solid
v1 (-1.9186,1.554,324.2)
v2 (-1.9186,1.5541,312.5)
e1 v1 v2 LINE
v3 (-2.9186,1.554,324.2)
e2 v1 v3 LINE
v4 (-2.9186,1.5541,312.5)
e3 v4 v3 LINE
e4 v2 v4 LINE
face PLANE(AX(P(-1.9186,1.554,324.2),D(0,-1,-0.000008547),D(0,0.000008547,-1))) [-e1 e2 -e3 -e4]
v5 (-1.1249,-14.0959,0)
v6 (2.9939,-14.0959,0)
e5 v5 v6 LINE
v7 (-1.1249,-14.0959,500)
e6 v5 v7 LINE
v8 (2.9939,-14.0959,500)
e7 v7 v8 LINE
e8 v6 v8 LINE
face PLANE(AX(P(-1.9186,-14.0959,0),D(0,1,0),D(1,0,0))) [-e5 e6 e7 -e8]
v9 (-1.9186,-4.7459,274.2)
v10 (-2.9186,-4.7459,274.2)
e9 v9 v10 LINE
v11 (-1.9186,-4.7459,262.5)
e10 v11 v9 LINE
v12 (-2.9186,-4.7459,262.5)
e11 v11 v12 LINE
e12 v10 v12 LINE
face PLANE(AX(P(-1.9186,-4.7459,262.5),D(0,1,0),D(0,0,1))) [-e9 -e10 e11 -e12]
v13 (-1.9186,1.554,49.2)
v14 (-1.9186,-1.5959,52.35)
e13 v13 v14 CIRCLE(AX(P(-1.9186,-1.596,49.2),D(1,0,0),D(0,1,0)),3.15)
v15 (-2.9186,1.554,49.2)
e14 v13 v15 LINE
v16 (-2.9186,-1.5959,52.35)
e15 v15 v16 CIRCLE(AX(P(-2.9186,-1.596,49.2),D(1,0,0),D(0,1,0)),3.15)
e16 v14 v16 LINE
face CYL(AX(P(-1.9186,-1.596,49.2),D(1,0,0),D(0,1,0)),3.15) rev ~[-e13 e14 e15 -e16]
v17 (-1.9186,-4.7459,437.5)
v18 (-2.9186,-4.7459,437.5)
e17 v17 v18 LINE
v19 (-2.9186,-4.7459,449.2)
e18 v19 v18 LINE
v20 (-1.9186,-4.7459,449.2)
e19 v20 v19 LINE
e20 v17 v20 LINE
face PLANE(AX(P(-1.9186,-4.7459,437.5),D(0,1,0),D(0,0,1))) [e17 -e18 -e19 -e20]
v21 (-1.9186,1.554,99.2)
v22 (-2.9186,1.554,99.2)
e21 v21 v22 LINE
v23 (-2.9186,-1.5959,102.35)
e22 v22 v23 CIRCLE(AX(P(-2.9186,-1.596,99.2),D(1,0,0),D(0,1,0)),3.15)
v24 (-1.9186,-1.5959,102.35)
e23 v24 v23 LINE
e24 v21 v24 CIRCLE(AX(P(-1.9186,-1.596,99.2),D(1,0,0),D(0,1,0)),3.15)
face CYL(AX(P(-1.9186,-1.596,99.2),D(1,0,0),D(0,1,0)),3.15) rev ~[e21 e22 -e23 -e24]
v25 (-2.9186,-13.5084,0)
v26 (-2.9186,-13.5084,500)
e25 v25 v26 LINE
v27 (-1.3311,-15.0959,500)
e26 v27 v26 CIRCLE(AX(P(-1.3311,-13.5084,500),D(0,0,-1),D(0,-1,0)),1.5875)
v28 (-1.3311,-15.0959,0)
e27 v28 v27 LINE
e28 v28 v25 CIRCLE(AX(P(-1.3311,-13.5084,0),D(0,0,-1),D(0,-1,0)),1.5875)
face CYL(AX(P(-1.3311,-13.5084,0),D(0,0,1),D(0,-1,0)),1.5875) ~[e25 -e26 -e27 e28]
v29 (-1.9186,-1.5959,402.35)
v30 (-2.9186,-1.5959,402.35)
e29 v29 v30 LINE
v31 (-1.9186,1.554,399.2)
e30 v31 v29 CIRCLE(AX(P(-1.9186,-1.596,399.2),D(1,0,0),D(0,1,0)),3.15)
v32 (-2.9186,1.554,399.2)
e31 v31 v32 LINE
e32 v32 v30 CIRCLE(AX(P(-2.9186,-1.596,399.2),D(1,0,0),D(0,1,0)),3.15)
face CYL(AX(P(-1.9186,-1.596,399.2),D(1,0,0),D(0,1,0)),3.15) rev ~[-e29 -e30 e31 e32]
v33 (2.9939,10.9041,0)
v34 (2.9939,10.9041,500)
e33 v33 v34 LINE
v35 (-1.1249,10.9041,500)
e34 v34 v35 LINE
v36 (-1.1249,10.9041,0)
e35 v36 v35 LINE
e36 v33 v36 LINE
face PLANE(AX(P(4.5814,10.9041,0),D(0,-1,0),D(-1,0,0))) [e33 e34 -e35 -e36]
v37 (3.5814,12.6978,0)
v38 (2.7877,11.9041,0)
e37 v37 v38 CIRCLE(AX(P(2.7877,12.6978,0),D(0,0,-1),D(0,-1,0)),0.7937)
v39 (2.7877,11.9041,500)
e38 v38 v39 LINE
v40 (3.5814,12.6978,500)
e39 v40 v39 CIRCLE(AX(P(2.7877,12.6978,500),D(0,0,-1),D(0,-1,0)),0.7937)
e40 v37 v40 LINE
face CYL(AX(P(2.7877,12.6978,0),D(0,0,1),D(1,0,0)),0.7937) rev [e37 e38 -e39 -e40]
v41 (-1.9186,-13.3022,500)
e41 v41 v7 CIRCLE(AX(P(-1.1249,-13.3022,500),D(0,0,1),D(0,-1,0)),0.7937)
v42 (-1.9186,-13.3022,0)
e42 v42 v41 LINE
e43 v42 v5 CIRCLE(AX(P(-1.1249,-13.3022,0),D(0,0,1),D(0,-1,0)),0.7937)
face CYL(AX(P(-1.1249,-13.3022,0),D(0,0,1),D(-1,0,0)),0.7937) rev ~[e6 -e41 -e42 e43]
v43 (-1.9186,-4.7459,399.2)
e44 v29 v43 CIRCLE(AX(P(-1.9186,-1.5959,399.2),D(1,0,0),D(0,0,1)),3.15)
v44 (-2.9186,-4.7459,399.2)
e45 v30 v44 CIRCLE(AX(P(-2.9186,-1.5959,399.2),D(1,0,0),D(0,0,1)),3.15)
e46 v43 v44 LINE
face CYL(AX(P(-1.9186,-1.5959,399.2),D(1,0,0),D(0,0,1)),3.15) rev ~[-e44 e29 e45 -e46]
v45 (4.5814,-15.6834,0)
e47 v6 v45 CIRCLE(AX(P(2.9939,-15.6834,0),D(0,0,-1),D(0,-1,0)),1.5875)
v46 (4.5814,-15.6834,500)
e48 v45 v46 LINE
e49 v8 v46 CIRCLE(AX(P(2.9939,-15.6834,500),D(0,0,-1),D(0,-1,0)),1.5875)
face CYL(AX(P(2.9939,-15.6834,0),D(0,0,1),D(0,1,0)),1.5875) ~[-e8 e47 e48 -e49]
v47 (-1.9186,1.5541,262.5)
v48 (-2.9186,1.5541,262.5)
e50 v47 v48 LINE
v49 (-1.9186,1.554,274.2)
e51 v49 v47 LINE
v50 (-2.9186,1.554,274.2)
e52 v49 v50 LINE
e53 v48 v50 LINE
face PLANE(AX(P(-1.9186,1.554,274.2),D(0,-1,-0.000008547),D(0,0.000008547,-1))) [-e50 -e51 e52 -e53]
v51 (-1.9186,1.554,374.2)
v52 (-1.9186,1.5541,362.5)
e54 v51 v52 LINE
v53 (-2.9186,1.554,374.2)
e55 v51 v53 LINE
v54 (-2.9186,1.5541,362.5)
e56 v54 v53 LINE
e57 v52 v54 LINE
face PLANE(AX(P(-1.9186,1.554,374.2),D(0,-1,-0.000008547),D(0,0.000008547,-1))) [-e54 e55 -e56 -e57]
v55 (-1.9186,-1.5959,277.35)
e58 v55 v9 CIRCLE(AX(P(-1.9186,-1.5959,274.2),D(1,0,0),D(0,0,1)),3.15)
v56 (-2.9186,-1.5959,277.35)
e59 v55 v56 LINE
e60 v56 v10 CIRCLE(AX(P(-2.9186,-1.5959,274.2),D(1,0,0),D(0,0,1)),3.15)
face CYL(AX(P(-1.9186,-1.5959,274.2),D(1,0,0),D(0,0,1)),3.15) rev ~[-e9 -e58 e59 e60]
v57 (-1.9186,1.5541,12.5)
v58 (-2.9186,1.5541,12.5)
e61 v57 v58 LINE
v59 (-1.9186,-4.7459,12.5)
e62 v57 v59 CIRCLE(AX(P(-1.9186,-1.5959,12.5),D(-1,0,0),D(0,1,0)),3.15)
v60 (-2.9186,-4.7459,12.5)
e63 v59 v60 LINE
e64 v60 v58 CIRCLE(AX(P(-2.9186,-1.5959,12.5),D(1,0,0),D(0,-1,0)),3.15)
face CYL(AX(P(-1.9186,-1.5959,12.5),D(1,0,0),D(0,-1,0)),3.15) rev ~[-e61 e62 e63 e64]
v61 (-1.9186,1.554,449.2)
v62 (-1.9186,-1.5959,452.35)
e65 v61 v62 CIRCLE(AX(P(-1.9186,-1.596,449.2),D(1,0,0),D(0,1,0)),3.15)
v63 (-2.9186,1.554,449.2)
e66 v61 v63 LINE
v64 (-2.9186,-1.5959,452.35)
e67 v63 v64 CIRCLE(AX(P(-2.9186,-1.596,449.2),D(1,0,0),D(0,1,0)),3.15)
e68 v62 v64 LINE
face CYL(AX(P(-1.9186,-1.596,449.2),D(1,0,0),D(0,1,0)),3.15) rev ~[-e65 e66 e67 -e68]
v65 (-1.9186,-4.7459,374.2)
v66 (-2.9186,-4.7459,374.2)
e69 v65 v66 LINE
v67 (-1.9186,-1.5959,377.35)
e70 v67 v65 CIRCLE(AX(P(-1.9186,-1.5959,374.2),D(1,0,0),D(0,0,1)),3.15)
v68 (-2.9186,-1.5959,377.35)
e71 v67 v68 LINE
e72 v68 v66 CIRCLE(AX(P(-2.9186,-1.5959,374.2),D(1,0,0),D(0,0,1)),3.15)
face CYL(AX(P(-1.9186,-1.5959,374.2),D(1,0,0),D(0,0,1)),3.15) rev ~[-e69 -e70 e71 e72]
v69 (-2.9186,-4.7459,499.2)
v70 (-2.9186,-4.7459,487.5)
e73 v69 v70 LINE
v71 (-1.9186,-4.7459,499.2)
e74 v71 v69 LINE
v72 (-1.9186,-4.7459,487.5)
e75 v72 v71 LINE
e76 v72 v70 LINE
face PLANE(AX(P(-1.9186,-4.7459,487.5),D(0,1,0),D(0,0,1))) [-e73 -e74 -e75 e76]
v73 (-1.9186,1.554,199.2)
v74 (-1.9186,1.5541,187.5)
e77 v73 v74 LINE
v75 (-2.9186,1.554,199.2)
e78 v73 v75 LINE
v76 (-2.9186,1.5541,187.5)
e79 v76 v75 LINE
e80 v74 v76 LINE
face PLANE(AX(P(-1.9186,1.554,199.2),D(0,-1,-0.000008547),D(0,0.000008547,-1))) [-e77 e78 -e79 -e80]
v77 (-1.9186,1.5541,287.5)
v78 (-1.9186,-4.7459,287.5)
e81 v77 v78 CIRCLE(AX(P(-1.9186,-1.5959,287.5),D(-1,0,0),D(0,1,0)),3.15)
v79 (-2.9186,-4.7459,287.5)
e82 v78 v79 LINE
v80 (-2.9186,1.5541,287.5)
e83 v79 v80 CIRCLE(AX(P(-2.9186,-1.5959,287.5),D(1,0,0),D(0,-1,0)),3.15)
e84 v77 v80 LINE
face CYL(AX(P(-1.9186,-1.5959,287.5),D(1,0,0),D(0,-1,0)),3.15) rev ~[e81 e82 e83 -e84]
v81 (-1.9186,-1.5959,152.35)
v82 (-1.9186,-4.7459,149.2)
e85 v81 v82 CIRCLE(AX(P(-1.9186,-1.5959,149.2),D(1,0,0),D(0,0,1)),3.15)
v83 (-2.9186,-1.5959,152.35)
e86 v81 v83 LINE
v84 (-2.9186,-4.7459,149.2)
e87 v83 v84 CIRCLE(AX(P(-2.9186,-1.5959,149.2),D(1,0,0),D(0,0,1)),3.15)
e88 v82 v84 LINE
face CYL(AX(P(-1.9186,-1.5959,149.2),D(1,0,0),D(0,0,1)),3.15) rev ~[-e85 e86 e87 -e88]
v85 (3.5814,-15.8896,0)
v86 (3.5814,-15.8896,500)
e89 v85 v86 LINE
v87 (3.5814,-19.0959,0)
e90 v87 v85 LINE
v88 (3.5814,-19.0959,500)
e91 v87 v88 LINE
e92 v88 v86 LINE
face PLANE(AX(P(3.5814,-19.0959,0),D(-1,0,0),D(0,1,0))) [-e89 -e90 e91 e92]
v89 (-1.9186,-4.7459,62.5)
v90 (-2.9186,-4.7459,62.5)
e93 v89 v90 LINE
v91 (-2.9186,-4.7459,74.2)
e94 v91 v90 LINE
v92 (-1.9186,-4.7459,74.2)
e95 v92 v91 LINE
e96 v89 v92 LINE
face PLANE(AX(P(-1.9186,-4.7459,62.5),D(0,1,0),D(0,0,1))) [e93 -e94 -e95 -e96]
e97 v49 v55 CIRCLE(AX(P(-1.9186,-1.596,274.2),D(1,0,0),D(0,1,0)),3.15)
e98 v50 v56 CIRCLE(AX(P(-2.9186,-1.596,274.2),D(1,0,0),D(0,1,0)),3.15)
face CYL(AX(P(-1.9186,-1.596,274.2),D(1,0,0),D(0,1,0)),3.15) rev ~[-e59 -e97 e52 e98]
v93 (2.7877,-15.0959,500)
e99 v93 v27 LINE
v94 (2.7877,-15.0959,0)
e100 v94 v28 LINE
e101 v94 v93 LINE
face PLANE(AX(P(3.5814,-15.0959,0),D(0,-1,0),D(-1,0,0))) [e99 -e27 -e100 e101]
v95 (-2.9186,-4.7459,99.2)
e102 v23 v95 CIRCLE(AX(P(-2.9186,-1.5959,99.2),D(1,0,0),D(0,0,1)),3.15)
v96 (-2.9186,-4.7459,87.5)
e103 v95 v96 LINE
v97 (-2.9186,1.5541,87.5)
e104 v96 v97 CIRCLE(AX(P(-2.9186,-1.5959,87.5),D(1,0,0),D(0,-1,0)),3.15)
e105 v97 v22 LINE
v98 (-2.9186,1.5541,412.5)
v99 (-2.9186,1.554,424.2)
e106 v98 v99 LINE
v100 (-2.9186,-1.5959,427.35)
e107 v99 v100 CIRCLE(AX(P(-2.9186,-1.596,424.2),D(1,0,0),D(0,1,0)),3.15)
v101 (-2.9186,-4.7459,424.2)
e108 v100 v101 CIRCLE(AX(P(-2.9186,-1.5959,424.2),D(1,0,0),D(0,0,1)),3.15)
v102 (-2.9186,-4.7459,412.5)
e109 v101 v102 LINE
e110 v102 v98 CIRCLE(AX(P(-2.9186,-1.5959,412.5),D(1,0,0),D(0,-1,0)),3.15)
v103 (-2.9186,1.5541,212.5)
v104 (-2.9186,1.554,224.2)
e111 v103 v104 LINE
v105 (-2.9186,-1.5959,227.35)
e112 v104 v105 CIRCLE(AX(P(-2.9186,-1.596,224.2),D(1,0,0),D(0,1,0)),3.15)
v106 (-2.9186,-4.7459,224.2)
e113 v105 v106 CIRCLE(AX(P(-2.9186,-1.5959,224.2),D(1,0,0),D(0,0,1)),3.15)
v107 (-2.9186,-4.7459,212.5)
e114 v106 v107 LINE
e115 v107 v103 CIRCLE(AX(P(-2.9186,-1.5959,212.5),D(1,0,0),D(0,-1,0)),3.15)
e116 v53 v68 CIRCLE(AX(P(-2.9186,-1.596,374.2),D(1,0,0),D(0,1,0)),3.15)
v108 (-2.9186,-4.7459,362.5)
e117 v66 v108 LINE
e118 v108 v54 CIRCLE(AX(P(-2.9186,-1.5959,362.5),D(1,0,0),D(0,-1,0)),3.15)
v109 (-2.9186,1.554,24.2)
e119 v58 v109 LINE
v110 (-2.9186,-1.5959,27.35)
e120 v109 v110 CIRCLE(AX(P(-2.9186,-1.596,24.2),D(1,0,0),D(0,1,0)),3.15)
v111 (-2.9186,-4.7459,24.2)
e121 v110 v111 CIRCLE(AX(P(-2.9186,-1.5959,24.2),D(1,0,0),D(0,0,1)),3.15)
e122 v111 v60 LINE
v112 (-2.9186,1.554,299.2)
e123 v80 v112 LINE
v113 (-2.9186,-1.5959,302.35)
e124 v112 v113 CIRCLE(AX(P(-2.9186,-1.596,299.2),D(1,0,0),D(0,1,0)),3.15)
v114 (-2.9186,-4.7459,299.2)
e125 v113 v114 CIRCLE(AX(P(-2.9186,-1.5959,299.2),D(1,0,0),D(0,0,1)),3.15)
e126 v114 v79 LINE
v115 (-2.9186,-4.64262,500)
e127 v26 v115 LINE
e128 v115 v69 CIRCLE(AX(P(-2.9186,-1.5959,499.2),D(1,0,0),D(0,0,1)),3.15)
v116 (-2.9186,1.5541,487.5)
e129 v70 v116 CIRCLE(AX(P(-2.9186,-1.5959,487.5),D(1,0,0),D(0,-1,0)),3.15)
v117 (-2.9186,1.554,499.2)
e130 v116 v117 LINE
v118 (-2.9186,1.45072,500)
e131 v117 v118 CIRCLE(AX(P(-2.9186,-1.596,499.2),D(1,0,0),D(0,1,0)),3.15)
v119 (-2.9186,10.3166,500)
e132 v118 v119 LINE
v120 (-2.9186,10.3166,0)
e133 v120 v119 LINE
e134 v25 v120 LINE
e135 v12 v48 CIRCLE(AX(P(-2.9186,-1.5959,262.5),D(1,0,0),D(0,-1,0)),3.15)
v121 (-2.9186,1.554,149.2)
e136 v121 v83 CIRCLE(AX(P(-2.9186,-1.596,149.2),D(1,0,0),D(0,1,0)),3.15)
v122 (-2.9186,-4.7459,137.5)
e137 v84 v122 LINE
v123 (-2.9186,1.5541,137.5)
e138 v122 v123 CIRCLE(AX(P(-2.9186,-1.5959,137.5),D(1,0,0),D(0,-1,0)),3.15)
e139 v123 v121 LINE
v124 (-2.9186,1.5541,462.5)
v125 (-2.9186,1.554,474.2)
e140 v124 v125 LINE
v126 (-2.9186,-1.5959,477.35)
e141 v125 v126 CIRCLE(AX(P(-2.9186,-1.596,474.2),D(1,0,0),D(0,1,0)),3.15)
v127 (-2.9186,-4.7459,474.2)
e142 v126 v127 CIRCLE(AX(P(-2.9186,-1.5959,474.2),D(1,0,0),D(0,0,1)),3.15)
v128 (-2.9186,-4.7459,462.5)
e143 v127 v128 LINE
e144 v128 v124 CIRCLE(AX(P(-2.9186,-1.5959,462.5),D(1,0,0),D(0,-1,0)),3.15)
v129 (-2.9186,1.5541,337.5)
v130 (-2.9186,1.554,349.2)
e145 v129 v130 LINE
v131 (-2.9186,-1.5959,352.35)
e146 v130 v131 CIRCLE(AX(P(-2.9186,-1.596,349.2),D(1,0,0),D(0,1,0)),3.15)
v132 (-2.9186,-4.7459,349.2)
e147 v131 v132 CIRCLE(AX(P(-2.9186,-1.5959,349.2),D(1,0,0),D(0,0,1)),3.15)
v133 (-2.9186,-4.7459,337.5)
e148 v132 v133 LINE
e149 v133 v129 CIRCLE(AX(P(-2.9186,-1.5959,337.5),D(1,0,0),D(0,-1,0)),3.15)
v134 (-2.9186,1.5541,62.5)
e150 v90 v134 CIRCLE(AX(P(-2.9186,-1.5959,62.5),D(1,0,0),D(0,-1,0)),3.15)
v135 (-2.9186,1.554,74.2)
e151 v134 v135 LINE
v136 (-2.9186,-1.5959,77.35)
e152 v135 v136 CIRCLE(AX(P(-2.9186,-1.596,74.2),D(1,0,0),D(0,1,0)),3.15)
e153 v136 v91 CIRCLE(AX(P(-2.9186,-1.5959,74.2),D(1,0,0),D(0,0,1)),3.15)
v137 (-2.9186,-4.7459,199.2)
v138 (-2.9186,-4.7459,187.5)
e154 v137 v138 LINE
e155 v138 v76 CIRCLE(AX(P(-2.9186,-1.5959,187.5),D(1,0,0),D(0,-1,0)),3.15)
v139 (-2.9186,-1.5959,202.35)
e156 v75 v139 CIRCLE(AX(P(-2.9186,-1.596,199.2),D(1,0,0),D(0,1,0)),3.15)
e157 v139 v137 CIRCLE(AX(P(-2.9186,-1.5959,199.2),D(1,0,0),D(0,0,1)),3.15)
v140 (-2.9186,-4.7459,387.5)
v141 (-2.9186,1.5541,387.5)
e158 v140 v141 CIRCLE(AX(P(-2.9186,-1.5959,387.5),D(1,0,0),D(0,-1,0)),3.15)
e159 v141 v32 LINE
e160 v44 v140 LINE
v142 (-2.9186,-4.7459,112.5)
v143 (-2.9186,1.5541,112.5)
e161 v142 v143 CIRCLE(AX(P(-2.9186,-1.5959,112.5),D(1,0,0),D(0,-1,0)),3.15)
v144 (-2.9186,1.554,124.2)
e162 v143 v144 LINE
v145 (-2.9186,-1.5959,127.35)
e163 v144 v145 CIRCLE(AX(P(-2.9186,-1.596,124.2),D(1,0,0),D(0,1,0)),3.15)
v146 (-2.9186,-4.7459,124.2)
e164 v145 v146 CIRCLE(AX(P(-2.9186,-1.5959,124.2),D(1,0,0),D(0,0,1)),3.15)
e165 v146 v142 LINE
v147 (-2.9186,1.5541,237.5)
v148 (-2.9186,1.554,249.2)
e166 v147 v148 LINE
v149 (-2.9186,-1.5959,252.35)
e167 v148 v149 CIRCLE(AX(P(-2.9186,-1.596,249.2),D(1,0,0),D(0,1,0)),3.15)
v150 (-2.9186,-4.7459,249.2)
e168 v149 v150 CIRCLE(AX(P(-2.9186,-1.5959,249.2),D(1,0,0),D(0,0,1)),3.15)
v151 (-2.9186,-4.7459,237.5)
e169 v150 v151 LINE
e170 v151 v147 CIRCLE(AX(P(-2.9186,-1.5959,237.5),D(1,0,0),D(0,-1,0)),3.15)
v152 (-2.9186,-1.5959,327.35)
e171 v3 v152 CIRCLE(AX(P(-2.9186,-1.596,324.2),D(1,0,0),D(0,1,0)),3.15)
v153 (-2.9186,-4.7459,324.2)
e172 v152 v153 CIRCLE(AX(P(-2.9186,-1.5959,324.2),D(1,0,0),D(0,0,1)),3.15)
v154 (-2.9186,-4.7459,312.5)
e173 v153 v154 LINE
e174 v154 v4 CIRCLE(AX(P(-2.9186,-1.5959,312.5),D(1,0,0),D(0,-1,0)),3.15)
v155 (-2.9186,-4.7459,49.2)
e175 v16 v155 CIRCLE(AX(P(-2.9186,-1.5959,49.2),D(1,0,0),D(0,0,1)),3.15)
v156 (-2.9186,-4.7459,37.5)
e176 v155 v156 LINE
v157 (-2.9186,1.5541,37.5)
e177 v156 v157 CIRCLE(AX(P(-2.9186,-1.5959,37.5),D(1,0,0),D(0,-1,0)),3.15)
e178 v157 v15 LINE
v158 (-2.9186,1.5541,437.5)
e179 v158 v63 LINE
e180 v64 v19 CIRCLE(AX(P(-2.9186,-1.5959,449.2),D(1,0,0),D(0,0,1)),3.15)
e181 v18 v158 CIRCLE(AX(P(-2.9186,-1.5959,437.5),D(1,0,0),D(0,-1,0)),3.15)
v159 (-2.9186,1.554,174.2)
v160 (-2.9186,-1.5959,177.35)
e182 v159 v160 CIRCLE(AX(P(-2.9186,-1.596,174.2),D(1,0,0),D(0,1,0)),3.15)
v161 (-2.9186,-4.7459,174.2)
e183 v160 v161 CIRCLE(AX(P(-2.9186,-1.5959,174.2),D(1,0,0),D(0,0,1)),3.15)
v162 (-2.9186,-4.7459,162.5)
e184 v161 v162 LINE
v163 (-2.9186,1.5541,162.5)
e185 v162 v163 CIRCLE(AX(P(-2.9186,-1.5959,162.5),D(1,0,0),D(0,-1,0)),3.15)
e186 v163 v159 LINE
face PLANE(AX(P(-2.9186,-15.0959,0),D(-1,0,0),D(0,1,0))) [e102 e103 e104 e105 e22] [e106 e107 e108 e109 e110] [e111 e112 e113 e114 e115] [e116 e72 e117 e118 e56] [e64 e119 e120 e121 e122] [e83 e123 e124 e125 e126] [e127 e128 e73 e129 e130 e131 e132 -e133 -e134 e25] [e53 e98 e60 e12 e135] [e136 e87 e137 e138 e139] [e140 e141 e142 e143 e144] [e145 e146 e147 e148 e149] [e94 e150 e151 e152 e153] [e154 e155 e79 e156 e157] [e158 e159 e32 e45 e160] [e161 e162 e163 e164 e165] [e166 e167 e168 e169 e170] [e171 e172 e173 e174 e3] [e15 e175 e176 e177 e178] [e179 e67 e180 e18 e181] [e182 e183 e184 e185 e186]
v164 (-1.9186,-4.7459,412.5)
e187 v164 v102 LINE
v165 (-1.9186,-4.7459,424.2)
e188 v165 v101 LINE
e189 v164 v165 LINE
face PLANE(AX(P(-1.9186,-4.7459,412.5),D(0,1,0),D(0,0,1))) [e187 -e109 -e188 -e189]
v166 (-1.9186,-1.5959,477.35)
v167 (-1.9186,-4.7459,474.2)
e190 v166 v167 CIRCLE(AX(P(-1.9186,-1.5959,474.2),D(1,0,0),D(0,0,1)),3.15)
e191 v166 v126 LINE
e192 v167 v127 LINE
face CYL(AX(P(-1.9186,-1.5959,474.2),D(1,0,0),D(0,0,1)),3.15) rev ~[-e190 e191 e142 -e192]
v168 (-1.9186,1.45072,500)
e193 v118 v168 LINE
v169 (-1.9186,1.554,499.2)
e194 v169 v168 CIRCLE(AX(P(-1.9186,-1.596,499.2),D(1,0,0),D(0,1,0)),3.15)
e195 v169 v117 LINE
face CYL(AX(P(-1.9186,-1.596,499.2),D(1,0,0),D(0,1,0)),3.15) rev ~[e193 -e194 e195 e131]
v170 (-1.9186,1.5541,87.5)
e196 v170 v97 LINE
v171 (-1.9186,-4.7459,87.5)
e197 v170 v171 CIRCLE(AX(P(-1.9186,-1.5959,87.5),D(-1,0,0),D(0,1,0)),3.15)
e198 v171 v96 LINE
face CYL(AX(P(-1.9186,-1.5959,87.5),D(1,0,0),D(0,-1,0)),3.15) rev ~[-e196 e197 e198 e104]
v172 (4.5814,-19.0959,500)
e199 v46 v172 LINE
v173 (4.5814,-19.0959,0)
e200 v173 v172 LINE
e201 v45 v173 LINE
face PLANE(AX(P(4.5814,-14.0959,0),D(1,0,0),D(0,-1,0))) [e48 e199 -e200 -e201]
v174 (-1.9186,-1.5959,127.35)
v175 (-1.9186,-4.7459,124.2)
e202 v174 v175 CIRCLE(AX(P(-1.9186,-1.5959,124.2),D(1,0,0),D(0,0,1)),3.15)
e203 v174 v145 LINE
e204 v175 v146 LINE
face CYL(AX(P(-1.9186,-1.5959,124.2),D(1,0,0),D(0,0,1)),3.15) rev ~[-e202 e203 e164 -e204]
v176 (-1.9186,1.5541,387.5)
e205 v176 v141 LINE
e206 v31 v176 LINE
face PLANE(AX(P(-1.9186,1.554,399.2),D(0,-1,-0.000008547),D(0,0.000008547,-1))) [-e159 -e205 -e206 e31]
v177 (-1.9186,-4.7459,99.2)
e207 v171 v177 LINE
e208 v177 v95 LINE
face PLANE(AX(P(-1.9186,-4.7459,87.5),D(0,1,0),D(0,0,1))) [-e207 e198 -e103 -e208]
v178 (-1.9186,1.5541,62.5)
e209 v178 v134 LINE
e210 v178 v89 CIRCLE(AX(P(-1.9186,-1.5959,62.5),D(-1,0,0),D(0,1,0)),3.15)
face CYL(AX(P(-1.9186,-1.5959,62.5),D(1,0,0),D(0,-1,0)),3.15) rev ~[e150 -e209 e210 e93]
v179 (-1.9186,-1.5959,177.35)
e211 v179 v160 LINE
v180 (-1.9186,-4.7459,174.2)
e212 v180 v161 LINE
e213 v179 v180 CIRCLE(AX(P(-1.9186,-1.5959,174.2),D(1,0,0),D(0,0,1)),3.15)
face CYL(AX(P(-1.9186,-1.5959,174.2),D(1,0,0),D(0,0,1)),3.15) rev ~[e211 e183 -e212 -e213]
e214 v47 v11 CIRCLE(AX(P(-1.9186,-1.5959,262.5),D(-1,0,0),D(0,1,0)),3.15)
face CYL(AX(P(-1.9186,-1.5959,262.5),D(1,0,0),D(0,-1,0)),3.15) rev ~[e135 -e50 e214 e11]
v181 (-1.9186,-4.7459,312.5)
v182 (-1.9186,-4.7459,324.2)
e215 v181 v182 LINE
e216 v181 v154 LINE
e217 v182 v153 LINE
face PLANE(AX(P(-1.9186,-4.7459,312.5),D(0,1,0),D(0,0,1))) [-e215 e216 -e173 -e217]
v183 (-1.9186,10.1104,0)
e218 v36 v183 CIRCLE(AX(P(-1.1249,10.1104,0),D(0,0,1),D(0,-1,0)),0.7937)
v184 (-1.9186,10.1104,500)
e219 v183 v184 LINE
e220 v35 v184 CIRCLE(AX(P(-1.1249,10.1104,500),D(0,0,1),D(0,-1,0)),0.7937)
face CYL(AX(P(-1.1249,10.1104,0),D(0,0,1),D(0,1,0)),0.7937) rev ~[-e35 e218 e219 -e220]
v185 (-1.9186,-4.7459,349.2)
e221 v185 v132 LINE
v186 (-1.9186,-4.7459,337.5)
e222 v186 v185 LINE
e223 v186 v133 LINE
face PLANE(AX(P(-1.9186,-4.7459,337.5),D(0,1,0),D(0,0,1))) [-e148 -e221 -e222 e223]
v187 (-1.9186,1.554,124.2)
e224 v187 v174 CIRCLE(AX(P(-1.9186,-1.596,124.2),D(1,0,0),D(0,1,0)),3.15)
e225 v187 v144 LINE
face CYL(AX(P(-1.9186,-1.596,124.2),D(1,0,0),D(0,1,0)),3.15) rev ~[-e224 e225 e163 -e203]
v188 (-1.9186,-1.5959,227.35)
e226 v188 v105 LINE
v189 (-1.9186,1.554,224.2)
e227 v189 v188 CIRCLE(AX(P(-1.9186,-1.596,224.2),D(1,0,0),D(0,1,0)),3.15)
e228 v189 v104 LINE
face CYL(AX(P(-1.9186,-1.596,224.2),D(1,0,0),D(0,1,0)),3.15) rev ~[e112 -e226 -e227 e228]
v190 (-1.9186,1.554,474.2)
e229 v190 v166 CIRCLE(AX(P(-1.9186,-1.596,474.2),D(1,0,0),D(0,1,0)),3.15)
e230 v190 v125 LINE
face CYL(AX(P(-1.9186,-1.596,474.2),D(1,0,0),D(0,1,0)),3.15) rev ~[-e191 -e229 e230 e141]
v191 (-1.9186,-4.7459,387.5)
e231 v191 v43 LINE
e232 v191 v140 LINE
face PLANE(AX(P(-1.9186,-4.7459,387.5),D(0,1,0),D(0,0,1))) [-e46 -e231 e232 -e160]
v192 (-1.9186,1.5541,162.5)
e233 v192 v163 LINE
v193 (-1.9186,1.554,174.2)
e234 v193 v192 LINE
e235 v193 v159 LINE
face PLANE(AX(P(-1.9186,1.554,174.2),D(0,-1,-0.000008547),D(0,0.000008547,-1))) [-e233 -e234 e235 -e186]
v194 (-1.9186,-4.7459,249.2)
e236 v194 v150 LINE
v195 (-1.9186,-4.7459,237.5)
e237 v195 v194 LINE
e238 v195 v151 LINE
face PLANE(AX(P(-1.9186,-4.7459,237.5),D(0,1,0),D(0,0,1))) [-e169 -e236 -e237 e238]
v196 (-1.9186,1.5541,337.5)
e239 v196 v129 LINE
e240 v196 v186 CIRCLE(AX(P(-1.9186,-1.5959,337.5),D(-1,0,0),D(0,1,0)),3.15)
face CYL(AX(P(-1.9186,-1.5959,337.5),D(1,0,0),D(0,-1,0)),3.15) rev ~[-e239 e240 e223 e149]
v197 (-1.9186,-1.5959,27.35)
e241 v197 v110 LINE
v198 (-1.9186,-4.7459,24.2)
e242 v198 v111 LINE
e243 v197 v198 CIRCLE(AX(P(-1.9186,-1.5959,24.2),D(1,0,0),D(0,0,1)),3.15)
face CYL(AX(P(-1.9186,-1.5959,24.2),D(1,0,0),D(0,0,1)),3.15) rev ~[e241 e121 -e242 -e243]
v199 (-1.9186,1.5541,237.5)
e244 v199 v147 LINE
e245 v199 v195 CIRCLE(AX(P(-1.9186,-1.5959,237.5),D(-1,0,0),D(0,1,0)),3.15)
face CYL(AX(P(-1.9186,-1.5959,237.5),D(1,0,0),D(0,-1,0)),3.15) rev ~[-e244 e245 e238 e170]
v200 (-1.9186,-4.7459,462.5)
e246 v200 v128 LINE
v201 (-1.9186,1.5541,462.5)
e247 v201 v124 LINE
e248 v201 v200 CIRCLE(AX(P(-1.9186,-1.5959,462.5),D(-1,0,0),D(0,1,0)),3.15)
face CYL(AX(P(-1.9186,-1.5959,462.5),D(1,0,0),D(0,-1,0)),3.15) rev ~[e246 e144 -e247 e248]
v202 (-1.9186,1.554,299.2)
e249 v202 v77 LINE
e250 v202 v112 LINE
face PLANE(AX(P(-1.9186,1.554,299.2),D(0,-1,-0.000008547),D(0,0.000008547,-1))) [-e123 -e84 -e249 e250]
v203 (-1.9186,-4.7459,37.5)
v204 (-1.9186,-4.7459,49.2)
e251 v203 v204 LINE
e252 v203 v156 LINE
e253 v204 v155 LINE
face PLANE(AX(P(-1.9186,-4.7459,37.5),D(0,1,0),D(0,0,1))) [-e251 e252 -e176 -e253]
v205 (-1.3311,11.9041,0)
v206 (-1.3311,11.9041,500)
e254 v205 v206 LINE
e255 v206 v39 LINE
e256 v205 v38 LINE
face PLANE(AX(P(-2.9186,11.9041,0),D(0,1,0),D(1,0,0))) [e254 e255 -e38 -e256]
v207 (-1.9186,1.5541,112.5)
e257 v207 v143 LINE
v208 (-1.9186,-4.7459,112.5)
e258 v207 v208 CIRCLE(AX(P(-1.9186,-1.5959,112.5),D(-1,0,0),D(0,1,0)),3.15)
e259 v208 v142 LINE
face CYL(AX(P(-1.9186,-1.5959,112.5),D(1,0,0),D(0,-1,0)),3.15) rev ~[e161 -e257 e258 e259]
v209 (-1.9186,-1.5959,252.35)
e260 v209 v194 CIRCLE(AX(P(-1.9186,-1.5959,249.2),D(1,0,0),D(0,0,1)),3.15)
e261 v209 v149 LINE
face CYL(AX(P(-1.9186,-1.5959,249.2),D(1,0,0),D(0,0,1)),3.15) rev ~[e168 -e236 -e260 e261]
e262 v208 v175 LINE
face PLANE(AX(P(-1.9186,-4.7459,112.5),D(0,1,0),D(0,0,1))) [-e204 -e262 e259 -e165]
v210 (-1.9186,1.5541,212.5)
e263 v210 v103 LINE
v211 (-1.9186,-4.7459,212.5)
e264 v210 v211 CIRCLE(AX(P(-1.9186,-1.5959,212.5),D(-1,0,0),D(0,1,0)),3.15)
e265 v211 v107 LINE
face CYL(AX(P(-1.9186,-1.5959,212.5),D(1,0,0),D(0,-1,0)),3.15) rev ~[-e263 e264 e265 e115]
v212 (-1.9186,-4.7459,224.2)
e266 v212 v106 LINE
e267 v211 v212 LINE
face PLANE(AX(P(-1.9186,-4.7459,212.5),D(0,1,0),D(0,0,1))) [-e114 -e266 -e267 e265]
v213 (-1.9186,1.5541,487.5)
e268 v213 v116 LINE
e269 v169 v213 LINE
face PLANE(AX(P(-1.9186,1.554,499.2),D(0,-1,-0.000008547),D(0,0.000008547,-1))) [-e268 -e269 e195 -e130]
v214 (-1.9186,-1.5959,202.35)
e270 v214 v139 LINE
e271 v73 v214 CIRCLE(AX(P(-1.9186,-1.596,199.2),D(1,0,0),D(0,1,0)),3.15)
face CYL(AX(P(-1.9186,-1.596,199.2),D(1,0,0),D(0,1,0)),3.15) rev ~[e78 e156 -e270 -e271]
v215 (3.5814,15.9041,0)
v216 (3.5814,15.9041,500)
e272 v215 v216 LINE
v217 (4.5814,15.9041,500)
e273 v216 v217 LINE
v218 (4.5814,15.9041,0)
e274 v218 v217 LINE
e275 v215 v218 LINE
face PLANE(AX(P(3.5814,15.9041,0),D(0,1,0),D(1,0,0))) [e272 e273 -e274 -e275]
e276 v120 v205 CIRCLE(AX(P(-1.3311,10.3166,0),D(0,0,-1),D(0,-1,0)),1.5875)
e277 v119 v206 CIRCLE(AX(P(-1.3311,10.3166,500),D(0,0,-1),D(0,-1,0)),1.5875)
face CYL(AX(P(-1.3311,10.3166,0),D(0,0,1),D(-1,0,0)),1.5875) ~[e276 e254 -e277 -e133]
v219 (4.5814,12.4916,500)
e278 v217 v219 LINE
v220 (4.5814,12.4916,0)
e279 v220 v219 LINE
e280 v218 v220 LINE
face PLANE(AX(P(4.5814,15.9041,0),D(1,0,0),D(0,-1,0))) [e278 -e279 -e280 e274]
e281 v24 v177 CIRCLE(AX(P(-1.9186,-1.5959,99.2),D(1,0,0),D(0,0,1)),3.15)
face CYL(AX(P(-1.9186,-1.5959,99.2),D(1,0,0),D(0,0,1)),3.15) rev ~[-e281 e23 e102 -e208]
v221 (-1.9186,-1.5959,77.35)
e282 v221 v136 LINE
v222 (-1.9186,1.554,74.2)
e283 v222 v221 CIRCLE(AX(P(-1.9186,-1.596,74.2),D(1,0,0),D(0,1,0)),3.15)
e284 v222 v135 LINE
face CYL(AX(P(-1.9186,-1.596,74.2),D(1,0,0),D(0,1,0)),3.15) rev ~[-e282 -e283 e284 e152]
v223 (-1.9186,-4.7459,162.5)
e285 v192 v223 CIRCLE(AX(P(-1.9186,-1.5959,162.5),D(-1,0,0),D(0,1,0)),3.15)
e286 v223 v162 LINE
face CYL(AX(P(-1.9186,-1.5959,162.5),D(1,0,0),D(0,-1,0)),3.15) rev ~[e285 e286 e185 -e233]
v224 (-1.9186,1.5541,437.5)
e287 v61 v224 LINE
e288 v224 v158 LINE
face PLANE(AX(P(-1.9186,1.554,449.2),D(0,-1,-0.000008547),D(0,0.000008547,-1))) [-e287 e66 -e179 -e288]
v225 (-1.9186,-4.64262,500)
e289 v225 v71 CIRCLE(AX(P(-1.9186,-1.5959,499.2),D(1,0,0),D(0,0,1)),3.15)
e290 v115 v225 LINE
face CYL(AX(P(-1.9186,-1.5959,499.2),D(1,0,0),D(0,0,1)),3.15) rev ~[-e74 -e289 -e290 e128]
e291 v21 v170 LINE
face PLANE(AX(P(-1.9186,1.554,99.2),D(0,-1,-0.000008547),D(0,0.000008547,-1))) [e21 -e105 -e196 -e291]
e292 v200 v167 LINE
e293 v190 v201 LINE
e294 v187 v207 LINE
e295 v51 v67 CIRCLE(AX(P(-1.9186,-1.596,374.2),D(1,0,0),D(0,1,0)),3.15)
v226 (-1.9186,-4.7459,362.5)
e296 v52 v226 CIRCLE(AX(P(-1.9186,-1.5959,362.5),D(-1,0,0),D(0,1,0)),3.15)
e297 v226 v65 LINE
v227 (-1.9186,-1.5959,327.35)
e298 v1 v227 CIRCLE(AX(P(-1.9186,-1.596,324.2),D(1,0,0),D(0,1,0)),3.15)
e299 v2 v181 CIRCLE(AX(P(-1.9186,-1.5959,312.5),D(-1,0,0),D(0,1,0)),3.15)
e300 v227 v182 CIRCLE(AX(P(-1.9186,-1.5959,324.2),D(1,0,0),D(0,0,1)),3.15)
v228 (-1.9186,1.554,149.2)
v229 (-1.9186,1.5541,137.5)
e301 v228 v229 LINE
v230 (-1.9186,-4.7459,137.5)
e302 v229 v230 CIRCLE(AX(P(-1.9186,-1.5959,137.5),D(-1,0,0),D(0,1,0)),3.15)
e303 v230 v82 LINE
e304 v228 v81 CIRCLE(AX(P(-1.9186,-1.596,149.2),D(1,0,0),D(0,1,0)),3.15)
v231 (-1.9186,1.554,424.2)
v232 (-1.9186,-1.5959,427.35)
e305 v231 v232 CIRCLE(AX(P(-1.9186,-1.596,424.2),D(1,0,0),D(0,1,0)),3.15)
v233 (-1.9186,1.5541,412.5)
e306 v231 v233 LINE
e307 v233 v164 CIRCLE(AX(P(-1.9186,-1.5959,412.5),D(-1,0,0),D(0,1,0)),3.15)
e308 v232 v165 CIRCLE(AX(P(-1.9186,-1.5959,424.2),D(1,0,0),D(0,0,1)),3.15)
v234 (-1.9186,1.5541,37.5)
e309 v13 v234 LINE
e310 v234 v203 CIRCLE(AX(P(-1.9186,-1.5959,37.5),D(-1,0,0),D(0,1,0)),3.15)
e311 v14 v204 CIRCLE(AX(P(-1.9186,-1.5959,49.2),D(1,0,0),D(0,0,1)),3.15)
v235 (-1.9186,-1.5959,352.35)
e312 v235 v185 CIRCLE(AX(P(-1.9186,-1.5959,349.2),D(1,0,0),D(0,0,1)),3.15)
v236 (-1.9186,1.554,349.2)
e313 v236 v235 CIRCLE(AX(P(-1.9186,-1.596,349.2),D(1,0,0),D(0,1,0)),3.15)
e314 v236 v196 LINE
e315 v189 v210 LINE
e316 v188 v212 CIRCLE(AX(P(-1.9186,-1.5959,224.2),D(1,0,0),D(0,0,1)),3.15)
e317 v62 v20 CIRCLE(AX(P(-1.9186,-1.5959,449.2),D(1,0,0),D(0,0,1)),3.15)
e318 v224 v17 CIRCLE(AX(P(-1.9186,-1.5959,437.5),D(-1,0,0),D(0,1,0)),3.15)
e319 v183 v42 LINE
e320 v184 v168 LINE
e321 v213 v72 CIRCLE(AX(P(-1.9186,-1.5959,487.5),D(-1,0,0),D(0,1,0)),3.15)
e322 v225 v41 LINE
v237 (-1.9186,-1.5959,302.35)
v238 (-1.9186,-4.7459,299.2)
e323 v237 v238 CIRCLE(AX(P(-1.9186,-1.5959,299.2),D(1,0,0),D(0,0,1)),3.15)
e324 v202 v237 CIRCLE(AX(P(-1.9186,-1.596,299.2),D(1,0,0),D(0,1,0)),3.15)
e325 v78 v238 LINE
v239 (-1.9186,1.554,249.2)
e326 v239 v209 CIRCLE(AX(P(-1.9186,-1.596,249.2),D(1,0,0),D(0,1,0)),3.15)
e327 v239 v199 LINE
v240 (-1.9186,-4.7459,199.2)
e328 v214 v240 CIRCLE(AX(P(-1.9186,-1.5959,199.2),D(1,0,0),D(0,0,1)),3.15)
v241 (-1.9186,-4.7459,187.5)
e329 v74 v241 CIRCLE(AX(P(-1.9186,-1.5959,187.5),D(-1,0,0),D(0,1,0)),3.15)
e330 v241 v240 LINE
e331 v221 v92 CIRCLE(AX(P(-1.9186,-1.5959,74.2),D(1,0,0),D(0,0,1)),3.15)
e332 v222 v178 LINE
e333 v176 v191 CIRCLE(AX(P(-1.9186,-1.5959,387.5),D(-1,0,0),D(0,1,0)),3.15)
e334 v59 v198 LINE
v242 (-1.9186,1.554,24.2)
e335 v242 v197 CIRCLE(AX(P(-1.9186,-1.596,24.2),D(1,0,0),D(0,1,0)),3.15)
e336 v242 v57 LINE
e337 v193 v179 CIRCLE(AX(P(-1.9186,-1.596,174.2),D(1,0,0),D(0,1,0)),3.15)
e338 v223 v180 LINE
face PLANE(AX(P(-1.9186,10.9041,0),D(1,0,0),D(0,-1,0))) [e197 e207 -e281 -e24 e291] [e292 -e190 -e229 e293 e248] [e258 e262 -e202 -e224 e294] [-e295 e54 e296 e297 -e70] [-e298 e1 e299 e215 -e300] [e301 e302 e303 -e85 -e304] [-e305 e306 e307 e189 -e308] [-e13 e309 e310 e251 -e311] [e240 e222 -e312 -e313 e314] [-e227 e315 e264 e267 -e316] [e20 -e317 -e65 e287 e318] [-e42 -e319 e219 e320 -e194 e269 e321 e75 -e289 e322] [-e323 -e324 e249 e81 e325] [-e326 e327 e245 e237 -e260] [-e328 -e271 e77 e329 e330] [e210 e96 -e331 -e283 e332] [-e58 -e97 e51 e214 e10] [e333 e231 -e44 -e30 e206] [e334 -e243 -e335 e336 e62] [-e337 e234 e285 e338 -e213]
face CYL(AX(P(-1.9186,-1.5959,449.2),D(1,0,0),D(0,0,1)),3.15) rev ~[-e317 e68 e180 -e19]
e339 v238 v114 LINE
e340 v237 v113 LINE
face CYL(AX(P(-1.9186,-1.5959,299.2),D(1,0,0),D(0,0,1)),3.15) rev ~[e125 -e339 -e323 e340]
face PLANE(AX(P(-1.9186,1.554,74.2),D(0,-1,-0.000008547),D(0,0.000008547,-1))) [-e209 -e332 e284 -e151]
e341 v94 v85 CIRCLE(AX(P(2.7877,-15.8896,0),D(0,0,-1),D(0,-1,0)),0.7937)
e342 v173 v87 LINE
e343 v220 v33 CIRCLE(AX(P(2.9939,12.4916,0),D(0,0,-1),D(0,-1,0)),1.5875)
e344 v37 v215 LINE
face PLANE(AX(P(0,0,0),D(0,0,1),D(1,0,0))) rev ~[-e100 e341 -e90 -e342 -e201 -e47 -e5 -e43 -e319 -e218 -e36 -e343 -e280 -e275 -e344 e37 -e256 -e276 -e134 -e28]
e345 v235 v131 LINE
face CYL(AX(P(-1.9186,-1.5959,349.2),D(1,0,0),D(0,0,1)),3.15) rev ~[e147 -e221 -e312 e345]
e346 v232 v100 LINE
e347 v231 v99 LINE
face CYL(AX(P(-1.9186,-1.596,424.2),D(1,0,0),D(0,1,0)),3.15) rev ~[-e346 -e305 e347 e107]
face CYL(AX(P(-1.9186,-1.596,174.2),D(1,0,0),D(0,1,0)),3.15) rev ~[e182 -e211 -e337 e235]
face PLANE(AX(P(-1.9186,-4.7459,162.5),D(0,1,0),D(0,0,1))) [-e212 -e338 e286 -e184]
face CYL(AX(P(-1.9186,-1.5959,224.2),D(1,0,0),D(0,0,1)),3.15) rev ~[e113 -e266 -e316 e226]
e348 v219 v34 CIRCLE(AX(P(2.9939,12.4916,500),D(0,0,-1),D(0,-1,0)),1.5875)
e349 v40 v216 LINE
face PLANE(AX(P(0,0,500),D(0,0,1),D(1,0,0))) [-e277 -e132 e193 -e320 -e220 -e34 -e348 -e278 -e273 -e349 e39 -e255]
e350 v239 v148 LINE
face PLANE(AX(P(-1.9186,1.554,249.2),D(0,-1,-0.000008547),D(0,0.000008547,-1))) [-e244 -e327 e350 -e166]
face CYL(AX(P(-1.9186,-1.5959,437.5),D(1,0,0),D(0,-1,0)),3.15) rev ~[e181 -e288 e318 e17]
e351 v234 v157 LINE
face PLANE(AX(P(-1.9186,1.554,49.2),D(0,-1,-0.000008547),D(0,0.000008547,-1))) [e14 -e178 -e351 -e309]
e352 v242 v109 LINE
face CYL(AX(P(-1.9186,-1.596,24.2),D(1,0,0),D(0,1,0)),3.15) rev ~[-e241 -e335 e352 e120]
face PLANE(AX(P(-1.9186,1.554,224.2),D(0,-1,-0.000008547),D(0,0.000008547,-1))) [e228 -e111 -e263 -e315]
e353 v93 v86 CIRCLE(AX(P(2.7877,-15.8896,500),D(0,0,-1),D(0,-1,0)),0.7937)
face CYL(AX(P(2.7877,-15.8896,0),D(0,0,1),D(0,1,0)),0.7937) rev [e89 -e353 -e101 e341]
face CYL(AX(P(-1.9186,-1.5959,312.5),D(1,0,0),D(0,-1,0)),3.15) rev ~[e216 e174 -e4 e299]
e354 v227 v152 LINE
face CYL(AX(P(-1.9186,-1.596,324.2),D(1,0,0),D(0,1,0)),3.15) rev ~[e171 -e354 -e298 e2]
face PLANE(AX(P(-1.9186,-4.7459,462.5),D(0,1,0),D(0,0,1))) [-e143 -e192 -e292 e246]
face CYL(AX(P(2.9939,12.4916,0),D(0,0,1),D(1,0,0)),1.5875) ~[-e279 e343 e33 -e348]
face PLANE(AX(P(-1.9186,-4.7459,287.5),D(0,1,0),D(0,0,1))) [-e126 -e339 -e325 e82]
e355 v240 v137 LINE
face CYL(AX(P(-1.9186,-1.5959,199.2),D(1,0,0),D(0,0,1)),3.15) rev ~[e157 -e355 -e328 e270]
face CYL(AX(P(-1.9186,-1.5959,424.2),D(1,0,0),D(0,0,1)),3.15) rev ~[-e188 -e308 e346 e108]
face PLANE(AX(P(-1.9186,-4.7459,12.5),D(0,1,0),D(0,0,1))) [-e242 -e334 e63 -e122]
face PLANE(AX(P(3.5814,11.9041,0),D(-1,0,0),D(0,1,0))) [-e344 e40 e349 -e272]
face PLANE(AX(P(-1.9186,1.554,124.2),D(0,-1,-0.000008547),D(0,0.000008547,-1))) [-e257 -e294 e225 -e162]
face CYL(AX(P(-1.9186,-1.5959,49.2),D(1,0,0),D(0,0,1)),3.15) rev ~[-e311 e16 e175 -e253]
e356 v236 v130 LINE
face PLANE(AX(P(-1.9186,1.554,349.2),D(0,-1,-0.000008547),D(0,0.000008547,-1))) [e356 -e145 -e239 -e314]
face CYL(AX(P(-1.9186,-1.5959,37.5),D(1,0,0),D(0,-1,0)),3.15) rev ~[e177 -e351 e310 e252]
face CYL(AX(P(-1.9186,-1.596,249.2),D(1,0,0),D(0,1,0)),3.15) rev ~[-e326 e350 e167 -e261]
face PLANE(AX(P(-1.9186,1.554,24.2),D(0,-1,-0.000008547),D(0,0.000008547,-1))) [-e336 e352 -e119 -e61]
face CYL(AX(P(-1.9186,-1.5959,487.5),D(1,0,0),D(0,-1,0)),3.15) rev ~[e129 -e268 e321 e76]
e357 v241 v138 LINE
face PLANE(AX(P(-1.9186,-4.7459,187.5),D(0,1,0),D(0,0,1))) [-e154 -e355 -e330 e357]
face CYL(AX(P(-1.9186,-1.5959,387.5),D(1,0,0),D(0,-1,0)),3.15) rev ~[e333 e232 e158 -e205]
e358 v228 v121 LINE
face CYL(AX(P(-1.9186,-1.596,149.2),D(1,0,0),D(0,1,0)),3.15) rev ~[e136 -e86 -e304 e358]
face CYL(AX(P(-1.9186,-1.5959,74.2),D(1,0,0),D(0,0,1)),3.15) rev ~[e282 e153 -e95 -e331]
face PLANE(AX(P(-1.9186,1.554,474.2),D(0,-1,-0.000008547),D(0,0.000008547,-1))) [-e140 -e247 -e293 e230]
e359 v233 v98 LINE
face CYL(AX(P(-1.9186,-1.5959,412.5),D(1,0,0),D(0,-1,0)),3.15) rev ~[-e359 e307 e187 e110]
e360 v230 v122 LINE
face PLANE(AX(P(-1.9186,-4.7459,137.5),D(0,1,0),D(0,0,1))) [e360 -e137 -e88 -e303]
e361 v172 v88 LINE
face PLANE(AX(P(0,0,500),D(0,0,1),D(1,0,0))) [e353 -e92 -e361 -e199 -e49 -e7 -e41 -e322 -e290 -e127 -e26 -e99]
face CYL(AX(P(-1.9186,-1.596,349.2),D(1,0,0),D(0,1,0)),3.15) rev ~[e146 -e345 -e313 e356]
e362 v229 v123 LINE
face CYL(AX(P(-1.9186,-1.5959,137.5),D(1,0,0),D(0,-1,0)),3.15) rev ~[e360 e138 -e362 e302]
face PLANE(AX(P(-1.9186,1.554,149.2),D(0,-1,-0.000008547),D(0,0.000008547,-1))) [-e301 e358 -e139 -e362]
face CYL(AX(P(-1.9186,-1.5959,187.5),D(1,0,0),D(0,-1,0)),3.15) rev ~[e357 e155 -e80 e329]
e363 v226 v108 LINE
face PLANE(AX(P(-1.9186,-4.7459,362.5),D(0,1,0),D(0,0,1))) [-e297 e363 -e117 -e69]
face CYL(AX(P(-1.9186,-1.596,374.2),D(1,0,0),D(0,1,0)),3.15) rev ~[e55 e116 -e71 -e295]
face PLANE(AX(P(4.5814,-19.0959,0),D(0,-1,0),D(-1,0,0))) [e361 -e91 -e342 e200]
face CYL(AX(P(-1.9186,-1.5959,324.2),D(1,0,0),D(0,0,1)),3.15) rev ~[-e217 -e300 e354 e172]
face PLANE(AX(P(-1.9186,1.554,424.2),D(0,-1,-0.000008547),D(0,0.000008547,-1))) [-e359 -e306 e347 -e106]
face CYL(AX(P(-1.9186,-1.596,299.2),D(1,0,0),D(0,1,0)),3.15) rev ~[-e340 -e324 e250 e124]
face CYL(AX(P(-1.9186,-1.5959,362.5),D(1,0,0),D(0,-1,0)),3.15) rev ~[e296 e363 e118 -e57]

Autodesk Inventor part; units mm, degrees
ref_plane "YZ Plane" through (0, 0, 0) normal (1, 0, 0) x (0, 1, 0)
ref_plane "XZ Plane" through (0, 0, 0) normal (0, 1, 0) x (-1, 0, 0)
ref_plane "XY Plane" through (0, 0, 0) normal (0, 0, 1) x (1, 0, 0)
sketch "Sketch2" plane through (0, 0, 0) normal (0, 0, 1) x (1, 0, 0)
  line L0 (3.5814, 15.9041) -> (4.5814, 15.9041)
  line L1 (4.5814, 15.9041) -> (4.5814, 10.9041)
  line L2 (4.5814, 10.9041) -> (-1.9186, 10.9041)
  line L3 (-1.9186, 10.9041) -> (-1.9186, -14.0959)
  line L4 (-1.9186, -14.0959) -> (4.5814, -14.0959)
  line L5 (4.5814, -14.0959) -> (4.5814, -19.0959)
  line L6 (4.5814, -19.0959) -> (3.5814, -19.0959)
  line L7 (3.5814, -19.0959) -> (3.5814, -15.0959)
  line L8 (3.5814, -15.0959) -> (-2.9186, -15.0959)
  line L9 (-2.9186, -15.0959) -> (-2.9186, 11.9041)
  line L10 (-2.9186, 11.9041) -> (3.5814, 11.9041)
  line L11 (3.5814, 11.9041) -> (3.5814, 15.9041)
  dimension "d0" = 1
  dimension "d1" = 35
  dimension "d2" = 27
  dimension "d3" = 1
  dimension "d4" = 1
  dimension "d5" = 1
  dimension "d6" = 1
  dimension "d7" = 4
  dimension "d8" = 7.5
extrude "Main" add sketch "Sketch2" along normal blind 500
fillet "Fillet2" radius 1.5875 4 edges at (4.5814, 10.9041, 250) (-2.9186, 11.9041, 250) (4.5814, -14.0959, 250) (-2.9186, -15.0959, 250)
fillet "Fillet3" radius 0.7937 4 edges at (3.5814, -15.0959, 250) (-1.9186, 10.9041, 250) (3.5814, 11.9041, 250) (-1.9186, -14.0959, 250)
sketch "Sketch3" plane through (-1.9186, -13.3022, 0) normal (1, 0, 0) x (0, 0, -1)
  line L0 (0, 23.4125) -> (0, 0) projected
  line L1 (-12.5, 8.5563) -> (-24.2, 8.5563)
  line L2 (-27.35, 11.7063) -> (-27.35, 11.7062)
  line L3 (-24.2, 14.8562) -> (-12.5, 14.8563)
  line L4 (-9.35, 11.7063) -> (-9.35, 11.7063)
  arc A0 (-24.2, 14.8562) -> (-27.35, 11.7062) centre (-24.2, 11.7062) ccw
  arc A1 (-27.35, 11.7063) -> (-24.2, 8.5563) centre (-24.2, 11.7063) ccw
  arc A2 (-12.5, 8.5563) -> (-9.35, 11.7063) centre (-12.5, 11.7063) ccw
  arc A3 (-9.35, 11.7063) -> (-12.5, 14.8563) centre (-12.5, 11.7063) ccw
  line L5 (0, 29.2063) -> (-500, 29.2063) projected
  dimension "d14" = 3.15
  dimension "d15" = 6.3
  dimension "d16" = 18
  dimension "d17" = 17.5
  dimension "d18" = 12.5
extrude "Extrusion2" cut sketch "Sketch3" against normal through all
pattern_linear "Rectangular Pattern1" count 30 spacing 25 along (0, 0, 1) of "Extrusion2"
equation "\"d0\" = DINWidth"
equation "\"d1\" = DINHeight"
equation "\"d2\" = DINHeightBack"
equation "\"d3\" = DINWidth"
equation "\"d4\" = DINWidth"
equation "\"d5\" = DINWidth"
equation "\"d6\" = DINWidth"
equation "\"d7\" = -0.5 * d2 + 0.5 * d1"
equation "\"d8\" = DINDepth"
equation "\"d14\" = 0.5 * SlotHeight"
equation "\"d15\" = SlotHeight"
equation "\"d16\" = SlotLength"
equation "\"d17\" = 0.5 * DINHeight"
equation "\"d18\" = 0.5 * SlotSpacing"
equation "\"d23\" = SlotSpacing"
equation "\"DINLength\" = 76.2"
equation "\"DINHeight\" = 35"
equation "\"DINHeightBack\" = 27"
equation "\"DINDepth\" = 7.5"
equation "\"SlotHeight\" = 6.3"
equation "\"SlotLength\" = 18"
equation "\"SlotSpacing\" = 25"
equation "\"DINWidth\" = 1"
properties part number "Din Rail_600" material "Латунь светло-желтая"
